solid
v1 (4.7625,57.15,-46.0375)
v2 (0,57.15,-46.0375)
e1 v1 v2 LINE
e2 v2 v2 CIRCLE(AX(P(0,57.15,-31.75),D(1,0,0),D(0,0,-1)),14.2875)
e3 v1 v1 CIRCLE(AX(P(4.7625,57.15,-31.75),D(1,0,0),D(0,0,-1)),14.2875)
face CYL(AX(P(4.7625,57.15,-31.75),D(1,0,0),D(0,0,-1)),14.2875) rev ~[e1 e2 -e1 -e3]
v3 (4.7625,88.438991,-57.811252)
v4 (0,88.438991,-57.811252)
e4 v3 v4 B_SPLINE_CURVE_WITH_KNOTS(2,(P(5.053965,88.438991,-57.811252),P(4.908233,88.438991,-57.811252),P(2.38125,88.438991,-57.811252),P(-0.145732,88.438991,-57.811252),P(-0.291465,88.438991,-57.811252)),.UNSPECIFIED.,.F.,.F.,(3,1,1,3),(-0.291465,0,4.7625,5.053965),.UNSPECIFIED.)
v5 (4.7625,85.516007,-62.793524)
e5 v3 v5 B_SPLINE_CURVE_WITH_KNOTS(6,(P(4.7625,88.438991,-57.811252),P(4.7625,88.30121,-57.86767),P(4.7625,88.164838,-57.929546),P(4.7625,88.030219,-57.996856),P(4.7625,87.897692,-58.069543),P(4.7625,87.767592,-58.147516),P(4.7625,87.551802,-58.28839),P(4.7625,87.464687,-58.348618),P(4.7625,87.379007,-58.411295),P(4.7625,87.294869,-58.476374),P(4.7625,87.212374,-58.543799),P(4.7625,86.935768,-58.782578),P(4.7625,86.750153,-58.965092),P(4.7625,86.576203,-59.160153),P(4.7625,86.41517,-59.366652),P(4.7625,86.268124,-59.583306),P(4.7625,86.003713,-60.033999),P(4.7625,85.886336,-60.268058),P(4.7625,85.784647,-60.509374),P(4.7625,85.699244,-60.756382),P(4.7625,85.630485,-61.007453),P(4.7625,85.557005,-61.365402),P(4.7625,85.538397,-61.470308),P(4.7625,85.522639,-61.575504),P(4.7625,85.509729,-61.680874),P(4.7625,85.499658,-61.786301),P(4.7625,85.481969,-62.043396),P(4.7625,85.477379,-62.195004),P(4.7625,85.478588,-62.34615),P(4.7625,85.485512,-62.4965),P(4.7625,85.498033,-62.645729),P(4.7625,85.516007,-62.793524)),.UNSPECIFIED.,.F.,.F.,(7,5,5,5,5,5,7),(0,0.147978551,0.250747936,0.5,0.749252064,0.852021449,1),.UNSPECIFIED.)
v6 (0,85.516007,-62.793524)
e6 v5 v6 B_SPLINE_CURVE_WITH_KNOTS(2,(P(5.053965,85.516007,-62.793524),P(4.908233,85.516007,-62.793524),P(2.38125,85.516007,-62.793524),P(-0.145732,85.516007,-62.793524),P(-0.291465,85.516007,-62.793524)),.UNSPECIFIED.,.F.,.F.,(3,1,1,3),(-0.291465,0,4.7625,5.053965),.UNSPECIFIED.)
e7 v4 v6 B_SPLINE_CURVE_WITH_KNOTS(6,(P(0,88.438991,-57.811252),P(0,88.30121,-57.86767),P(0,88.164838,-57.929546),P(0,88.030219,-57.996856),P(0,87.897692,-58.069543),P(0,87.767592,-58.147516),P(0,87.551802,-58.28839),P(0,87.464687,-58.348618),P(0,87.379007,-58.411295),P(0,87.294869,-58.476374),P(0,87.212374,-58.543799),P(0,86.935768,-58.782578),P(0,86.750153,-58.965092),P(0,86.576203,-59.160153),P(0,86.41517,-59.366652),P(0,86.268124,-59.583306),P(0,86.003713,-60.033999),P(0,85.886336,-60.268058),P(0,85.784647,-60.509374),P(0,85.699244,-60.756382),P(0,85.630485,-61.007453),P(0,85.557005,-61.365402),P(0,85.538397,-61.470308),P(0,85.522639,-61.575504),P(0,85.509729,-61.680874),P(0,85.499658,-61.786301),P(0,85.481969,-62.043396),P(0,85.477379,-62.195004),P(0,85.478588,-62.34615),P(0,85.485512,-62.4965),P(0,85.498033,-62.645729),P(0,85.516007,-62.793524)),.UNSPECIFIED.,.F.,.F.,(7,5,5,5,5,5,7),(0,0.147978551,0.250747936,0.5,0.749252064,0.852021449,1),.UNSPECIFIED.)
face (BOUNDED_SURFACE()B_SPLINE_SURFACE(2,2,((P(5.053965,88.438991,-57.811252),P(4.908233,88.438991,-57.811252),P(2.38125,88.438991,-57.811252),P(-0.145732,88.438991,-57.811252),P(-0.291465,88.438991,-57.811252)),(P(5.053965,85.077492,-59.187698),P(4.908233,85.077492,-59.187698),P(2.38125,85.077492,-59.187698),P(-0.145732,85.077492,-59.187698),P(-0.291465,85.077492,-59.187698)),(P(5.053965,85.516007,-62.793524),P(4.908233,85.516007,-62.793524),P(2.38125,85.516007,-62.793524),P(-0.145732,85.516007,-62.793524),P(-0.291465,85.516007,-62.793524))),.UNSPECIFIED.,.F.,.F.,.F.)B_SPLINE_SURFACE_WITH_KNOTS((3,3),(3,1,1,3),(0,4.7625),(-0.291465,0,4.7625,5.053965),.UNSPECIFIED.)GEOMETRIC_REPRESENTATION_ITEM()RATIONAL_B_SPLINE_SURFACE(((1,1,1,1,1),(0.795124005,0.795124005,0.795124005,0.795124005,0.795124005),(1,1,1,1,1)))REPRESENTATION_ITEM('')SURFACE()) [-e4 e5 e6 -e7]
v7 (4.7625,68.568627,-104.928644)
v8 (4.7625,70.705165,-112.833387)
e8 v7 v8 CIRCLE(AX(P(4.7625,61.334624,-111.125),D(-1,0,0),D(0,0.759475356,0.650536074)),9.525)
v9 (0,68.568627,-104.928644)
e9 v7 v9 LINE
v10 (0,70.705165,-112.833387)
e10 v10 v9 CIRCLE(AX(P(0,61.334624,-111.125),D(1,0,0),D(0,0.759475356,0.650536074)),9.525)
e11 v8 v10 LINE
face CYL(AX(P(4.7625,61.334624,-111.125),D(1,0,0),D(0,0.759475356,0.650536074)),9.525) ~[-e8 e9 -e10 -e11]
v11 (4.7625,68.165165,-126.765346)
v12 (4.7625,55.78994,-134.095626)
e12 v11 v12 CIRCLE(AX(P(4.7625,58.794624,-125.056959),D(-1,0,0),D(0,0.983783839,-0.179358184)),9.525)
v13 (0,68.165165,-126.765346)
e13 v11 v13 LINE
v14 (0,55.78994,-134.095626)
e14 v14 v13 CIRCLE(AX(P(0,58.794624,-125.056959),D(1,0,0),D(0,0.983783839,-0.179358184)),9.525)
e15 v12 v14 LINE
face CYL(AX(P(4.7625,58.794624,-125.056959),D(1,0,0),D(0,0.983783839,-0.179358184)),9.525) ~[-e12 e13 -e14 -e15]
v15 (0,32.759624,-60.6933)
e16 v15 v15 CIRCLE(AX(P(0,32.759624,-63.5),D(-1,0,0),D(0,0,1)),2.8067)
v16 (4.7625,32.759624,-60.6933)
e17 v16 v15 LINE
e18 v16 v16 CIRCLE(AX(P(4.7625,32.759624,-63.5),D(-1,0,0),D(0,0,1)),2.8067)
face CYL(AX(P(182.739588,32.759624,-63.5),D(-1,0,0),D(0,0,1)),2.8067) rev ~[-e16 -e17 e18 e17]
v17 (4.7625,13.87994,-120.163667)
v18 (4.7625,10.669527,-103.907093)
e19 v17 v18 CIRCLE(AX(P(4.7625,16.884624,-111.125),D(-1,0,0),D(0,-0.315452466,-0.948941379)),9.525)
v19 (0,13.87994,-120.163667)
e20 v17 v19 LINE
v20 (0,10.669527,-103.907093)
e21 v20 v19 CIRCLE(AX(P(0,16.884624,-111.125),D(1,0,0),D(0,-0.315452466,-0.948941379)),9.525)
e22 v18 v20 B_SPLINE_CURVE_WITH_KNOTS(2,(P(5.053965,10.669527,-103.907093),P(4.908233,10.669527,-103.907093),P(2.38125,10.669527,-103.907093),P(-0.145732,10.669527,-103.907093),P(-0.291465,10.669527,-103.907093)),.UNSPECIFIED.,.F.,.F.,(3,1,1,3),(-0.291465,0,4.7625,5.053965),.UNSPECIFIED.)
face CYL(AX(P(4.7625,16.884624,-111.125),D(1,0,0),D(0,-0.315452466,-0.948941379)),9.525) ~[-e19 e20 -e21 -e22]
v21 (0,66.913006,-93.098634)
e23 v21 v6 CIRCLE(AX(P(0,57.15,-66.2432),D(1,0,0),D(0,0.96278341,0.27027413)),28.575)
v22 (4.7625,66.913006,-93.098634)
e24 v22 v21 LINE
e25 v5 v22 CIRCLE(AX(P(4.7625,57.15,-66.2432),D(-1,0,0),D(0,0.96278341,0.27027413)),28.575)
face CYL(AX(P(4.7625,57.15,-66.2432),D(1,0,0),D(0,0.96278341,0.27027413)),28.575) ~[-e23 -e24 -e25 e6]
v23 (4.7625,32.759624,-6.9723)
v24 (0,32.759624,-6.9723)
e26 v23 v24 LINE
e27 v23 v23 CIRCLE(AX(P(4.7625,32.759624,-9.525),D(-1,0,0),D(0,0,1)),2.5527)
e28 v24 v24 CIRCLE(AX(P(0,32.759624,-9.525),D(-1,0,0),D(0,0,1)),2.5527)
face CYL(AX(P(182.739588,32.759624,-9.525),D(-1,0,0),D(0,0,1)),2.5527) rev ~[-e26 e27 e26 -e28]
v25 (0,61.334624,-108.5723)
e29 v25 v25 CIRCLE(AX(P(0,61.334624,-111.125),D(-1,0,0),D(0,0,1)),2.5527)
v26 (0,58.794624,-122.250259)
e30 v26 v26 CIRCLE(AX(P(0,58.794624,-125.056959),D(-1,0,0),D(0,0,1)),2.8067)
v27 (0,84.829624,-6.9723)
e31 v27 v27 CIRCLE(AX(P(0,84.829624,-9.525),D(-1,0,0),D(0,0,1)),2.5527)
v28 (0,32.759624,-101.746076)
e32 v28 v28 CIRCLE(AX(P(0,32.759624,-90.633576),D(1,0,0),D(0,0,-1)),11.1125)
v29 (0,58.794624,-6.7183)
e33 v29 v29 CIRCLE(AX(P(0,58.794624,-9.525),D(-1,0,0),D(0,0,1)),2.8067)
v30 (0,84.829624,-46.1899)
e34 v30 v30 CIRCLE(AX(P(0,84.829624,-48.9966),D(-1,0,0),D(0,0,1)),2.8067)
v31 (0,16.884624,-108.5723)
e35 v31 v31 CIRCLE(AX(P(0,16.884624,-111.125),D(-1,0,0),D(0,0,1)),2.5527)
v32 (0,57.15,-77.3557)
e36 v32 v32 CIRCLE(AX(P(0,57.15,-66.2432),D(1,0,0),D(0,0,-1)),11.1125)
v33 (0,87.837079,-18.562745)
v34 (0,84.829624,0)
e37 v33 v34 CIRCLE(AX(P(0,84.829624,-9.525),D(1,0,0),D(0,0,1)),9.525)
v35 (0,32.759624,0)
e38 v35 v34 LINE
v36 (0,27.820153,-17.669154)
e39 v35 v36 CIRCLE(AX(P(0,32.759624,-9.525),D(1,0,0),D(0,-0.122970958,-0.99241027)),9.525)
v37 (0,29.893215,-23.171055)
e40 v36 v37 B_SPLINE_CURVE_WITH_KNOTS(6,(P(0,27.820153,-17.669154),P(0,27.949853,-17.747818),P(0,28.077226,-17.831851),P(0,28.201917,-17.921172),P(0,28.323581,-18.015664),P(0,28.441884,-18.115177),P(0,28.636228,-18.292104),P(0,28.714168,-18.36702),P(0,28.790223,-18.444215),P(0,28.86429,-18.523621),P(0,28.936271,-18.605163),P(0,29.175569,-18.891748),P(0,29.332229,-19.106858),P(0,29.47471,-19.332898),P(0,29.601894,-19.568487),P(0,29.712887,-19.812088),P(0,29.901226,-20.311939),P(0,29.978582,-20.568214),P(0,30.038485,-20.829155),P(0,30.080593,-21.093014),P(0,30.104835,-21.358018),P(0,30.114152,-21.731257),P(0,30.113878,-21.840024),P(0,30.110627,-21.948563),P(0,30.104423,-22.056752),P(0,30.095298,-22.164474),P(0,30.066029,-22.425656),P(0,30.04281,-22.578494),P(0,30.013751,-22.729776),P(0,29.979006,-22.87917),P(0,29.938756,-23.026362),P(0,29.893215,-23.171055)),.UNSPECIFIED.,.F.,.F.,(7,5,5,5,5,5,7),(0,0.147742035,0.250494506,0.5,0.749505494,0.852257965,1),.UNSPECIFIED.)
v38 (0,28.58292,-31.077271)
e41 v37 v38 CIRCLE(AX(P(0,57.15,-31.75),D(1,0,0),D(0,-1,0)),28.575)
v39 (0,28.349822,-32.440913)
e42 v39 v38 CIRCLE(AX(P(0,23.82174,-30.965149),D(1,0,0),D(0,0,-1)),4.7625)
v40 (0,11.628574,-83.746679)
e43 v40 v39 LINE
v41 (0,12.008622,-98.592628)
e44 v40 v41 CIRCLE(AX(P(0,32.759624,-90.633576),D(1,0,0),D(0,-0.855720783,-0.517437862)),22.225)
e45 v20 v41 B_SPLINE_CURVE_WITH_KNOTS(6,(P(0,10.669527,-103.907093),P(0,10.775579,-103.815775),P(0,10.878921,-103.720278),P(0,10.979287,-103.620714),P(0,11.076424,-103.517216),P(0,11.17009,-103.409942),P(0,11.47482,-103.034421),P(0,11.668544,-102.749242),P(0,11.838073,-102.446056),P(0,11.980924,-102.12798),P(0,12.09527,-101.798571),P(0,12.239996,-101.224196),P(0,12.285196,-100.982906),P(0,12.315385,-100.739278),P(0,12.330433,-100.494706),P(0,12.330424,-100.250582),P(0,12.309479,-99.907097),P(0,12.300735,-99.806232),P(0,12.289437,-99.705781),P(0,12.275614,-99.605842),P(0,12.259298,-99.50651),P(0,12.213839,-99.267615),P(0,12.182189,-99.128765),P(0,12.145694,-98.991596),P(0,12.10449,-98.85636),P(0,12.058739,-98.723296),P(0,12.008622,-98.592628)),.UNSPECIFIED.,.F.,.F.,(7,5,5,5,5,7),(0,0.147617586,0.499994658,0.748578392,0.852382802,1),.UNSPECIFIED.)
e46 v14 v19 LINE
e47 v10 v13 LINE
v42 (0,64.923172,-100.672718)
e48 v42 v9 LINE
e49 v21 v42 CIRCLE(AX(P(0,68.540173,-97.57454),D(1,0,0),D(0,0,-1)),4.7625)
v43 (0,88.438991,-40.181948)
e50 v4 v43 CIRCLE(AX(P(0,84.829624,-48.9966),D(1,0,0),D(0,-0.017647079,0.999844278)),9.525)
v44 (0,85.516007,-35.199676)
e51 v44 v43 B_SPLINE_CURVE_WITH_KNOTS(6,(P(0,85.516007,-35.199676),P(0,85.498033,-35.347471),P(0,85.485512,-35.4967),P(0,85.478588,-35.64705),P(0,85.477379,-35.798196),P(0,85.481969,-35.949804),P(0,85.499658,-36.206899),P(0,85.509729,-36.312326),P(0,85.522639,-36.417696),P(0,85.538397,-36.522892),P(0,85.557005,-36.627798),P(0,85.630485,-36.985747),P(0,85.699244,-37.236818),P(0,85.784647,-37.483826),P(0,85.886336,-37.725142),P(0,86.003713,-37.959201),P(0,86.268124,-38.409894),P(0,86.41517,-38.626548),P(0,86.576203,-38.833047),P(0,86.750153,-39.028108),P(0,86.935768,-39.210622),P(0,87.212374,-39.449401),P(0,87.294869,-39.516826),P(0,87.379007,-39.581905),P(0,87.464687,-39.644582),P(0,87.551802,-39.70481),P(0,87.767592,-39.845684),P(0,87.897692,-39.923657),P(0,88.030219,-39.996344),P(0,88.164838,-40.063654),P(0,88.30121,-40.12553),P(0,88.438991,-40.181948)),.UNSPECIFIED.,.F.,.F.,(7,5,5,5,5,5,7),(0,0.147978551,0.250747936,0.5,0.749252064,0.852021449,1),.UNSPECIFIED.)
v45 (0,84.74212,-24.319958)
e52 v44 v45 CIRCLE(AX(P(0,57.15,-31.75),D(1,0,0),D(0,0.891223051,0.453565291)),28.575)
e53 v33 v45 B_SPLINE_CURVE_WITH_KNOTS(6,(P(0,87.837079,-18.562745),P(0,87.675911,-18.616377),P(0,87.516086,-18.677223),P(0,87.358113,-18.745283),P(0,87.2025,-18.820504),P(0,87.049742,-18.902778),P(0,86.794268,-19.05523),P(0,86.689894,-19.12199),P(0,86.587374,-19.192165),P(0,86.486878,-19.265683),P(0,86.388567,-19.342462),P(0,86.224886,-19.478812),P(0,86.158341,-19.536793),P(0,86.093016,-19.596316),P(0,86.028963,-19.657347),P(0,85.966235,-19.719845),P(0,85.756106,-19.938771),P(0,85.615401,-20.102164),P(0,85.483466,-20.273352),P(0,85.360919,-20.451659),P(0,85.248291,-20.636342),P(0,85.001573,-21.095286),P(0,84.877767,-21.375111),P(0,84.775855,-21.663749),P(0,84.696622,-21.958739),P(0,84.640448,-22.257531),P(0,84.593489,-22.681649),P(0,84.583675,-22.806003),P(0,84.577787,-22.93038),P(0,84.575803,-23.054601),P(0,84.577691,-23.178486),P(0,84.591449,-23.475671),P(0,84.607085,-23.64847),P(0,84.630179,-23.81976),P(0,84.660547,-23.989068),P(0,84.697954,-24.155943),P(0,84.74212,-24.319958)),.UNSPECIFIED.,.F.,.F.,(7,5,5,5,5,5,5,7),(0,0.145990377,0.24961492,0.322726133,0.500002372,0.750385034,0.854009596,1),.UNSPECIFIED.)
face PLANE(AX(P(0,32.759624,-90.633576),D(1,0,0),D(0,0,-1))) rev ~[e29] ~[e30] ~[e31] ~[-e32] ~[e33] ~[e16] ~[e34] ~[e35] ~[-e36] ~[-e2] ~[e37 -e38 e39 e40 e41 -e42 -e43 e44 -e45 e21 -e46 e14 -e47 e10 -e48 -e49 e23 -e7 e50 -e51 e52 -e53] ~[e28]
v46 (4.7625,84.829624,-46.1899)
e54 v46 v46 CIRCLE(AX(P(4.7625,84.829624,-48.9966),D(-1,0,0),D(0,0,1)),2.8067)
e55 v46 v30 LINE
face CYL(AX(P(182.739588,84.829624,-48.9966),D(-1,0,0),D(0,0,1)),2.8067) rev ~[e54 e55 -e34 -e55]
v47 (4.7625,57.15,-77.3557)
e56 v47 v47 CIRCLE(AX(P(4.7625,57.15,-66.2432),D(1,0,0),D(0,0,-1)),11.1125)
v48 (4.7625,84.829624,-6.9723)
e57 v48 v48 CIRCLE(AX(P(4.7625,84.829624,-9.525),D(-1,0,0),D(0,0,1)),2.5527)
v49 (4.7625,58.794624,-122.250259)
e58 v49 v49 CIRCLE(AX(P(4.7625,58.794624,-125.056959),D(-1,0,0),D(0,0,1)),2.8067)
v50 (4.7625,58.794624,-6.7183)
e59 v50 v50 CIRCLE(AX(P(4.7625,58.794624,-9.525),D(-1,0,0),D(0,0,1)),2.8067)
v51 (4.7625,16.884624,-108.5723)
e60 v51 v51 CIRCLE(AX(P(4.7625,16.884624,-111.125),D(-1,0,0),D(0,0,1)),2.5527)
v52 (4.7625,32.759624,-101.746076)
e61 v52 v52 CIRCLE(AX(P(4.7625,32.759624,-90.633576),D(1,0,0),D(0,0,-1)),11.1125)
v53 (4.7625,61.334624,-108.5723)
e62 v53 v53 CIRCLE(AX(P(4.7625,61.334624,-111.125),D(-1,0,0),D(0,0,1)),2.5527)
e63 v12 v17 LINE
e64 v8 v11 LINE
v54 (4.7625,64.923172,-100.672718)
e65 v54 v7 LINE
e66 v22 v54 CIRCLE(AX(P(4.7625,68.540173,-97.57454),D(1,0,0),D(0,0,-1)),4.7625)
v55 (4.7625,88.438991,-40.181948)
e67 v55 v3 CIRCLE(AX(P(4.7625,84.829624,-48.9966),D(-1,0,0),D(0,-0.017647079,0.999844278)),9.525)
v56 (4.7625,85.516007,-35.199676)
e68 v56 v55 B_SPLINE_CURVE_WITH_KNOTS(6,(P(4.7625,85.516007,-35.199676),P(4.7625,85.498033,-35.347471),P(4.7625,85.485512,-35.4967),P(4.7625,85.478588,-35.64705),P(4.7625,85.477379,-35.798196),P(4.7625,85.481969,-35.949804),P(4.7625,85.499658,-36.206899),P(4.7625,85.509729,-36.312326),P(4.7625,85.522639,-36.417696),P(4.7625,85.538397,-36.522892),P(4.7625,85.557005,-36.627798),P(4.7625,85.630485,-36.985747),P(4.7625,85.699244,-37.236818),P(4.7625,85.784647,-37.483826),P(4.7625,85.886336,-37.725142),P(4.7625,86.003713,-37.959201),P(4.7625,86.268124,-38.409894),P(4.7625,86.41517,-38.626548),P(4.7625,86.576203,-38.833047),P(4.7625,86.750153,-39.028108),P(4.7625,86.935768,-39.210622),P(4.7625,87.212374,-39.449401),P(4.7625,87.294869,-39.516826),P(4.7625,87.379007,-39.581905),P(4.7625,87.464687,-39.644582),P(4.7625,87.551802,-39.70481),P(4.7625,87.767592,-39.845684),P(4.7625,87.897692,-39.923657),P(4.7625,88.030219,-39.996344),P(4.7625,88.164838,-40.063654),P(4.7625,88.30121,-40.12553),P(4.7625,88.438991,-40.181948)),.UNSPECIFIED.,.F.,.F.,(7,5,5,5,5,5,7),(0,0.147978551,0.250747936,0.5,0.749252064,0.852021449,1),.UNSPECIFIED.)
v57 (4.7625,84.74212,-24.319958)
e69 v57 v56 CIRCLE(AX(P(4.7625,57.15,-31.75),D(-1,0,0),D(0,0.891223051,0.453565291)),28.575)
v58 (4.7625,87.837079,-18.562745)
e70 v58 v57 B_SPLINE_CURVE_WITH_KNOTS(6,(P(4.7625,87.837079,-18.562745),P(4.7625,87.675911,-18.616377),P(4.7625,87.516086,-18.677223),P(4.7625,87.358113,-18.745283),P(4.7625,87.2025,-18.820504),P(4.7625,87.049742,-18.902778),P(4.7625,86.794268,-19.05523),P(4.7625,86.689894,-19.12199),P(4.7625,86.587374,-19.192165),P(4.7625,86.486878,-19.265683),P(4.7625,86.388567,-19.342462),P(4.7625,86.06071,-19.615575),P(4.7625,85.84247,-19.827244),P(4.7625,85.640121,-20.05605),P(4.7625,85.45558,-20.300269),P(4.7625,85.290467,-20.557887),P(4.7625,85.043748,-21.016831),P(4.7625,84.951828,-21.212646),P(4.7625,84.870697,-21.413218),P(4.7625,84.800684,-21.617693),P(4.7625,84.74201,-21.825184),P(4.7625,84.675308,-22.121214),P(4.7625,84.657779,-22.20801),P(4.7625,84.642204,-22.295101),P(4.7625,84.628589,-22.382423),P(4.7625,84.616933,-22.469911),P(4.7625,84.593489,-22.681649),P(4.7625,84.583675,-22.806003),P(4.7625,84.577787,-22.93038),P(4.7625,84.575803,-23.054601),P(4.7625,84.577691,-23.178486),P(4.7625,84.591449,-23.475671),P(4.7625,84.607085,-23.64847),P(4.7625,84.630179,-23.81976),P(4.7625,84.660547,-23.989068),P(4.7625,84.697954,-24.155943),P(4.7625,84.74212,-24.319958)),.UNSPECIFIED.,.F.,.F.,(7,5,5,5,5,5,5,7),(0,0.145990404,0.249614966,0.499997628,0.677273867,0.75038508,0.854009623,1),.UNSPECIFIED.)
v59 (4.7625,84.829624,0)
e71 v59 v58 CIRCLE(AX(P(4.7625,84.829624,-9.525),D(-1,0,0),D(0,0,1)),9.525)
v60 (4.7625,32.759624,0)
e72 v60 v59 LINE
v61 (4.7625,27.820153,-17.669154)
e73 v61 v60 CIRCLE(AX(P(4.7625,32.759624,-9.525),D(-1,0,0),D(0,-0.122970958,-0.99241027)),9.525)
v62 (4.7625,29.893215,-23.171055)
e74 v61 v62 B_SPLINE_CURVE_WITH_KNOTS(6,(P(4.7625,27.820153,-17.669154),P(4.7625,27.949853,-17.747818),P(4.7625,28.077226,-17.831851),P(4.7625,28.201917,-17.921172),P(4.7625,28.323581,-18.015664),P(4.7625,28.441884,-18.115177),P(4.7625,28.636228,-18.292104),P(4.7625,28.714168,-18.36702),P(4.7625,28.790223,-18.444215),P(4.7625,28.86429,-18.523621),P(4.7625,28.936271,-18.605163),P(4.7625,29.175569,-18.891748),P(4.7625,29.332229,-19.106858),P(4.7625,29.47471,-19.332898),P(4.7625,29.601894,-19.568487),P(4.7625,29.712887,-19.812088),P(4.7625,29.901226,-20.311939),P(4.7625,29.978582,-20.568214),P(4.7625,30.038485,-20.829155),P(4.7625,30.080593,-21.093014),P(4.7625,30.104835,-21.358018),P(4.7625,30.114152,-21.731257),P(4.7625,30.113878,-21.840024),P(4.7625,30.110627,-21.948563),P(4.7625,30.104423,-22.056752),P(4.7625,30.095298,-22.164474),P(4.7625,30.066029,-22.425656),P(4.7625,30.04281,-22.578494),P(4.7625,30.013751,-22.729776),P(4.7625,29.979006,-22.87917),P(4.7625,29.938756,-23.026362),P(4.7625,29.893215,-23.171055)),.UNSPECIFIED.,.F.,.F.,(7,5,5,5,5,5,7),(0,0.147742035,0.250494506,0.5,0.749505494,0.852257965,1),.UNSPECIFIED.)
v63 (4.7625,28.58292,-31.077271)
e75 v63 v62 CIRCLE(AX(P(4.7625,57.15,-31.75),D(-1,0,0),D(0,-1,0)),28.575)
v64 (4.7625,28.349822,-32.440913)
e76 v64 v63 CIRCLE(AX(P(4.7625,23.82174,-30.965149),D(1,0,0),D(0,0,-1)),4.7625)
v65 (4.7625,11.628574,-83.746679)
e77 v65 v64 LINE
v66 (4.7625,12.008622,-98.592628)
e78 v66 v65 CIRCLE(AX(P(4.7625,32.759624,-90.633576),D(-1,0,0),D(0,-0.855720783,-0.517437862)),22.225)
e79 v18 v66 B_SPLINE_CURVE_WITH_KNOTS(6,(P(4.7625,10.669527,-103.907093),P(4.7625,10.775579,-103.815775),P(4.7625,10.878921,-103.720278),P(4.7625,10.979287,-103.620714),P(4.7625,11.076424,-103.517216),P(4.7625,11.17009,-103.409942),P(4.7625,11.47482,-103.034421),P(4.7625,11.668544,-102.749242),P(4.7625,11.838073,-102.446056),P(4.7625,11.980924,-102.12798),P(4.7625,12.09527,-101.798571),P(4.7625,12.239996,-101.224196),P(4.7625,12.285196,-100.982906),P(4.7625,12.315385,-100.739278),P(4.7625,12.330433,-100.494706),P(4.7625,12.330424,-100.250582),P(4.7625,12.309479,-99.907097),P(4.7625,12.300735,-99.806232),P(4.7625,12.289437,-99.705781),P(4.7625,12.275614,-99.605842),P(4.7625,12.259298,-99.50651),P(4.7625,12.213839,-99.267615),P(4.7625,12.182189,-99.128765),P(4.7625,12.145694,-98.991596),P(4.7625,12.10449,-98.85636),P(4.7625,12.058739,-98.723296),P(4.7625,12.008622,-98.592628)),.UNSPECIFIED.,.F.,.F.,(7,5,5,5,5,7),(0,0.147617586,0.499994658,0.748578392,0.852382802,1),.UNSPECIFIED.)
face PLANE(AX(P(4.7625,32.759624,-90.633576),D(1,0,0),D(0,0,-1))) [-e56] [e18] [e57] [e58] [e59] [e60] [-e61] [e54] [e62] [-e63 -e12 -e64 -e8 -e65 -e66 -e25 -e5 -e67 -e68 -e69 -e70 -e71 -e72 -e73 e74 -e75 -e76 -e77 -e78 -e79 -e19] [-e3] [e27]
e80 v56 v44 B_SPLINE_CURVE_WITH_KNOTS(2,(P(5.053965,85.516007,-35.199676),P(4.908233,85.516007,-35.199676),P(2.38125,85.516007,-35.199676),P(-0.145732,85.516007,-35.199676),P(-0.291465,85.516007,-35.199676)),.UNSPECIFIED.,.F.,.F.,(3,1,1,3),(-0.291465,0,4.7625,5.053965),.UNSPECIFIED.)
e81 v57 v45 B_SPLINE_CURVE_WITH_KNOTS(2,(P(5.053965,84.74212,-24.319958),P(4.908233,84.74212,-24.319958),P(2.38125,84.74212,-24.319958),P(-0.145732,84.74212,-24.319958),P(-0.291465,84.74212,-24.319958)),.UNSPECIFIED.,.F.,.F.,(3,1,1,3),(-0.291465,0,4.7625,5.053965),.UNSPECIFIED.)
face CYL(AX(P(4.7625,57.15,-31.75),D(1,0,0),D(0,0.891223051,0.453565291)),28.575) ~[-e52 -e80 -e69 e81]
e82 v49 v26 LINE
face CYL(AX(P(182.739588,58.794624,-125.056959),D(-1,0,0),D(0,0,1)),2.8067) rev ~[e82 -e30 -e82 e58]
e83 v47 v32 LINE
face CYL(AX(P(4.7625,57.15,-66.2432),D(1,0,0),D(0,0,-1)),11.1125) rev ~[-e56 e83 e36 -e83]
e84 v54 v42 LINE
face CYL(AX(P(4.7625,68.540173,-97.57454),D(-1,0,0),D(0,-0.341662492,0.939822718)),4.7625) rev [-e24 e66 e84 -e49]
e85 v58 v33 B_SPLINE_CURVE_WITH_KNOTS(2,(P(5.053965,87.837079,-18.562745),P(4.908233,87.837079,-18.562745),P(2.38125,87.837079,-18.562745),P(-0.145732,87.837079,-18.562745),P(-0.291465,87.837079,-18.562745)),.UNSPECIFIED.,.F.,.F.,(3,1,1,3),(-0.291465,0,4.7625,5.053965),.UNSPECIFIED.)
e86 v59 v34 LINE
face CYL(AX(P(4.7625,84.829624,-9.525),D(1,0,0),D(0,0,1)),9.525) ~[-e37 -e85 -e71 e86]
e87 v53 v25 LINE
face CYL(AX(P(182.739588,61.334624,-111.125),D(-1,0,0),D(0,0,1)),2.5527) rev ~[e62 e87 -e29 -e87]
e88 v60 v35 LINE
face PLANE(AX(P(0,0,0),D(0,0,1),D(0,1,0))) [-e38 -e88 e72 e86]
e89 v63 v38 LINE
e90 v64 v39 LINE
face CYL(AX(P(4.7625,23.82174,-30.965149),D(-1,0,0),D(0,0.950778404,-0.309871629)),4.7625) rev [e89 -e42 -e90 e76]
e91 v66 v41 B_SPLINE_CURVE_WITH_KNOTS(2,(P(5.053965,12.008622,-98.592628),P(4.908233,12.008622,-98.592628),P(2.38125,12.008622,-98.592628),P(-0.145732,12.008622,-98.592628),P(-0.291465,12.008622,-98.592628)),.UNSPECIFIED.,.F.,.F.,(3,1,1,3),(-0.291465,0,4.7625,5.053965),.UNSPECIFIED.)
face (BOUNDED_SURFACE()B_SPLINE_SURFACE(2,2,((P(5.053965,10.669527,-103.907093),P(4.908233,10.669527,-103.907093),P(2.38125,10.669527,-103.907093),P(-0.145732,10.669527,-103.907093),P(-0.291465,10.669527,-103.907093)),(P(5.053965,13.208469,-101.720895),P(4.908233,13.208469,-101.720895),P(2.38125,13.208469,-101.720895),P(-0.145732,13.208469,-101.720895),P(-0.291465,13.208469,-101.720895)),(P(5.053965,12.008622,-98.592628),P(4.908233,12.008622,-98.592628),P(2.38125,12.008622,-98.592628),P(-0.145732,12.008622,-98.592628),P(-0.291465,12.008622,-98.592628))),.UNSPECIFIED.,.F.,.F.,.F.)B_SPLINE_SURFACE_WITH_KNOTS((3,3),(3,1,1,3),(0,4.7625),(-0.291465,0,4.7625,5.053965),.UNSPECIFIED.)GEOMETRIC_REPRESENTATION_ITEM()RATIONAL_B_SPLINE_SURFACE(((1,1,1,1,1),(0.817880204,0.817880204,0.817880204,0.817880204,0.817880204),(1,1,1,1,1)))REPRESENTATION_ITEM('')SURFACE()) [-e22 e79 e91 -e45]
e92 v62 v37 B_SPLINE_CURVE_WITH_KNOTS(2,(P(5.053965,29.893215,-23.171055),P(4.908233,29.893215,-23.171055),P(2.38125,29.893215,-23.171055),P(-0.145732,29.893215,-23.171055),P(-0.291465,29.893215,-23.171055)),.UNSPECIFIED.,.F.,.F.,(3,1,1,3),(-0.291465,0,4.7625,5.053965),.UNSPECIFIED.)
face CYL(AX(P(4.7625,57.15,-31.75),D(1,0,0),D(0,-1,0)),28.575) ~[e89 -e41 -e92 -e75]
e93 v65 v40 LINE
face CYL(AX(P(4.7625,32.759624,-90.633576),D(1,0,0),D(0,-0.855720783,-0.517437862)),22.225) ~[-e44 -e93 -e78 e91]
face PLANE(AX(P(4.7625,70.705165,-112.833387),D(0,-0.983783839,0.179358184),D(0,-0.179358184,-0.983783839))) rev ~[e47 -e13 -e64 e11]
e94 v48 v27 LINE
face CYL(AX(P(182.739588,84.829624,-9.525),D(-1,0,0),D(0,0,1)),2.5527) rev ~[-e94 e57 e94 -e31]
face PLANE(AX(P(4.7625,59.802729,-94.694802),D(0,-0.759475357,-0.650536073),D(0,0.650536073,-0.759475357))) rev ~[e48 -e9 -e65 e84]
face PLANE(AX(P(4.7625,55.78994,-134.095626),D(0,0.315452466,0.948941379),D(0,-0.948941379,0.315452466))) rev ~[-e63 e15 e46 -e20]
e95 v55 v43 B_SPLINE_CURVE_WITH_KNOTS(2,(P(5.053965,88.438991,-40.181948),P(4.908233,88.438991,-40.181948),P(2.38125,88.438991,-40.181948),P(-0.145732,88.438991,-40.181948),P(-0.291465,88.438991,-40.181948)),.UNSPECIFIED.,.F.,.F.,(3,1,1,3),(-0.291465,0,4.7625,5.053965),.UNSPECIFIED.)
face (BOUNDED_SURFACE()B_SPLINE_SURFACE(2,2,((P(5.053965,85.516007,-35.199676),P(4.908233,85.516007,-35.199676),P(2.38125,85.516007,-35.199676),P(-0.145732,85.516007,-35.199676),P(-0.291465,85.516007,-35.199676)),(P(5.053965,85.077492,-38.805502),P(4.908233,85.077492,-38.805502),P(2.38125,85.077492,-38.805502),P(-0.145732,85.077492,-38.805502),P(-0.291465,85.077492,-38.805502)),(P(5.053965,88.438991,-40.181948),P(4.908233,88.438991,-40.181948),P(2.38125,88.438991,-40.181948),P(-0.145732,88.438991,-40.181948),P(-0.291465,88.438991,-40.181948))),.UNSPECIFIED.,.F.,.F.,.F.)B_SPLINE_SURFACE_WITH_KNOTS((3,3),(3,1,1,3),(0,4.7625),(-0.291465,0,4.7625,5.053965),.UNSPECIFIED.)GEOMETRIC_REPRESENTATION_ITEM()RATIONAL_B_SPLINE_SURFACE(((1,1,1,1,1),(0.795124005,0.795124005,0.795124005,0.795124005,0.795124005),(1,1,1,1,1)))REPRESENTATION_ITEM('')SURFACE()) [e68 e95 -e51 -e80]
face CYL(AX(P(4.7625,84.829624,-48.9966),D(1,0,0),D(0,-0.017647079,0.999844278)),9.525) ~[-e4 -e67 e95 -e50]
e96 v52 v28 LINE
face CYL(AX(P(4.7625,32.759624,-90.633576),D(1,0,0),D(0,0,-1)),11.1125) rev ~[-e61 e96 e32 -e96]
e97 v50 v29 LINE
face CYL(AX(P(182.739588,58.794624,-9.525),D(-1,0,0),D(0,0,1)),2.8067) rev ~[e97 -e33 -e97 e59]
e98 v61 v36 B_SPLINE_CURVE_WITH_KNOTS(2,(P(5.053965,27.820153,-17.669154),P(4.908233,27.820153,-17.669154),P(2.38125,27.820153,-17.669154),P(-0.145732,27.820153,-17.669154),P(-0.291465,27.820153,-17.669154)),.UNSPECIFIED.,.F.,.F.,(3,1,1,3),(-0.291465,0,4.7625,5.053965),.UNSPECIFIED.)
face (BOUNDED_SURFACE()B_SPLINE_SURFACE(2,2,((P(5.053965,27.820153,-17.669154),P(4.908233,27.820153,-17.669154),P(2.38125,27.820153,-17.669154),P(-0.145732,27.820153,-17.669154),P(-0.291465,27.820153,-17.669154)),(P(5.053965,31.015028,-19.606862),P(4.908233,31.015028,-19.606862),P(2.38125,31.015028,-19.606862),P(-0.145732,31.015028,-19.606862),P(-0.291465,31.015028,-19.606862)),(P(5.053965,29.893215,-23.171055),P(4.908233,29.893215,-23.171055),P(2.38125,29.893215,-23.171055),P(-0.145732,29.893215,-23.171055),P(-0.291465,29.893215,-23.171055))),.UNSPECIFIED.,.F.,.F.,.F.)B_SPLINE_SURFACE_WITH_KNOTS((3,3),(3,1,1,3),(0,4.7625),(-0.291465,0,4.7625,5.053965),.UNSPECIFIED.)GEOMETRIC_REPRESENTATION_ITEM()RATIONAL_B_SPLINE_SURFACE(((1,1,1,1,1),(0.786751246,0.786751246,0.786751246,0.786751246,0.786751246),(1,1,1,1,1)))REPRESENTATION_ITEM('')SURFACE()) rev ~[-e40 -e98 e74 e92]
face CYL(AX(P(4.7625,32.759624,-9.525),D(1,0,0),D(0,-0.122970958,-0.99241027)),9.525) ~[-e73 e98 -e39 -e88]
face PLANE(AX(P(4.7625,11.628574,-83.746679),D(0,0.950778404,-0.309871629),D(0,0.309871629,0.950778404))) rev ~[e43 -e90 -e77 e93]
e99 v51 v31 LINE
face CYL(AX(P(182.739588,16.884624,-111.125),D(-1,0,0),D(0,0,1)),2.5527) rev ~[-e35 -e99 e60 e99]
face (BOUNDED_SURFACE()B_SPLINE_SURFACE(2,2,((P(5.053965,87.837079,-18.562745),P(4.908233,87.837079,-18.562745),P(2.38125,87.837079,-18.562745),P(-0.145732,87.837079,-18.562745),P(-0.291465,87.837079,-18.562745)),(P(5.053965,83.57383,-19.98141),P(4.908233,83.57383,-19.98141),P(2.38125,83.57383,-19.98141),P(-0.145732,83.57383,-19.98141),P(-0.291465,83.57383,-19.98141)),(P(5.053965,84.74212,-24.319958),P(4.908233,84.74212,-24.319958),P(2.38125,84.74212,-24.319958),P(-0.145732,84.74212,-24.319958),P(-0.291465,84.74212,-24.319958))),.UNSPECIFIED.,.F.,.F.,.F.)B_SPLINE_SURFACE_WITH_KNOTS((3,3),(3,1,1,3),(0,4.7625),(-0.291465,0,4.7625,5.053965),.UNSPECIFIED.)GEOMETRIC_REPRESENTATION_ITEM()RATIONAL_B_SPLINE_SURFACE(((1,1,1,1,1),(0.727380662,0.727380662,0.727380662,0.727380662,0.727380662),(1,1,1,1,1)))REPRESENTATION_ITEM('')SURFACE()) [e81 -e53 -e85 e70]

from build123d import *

# Parameters (mm, degrees)
SKETCH1_W              = 146.05
SKETCH1_H              = 101.6
BOSS_EXTRUDE2_DEPTH    = 4.7625
SKETCH2_R              = 11.1125
SKETCH2_R_2            = 14.2875
CUT_EXTRUDE1_DEPTH     = 5.7625
F_10_CLEARANCE_HOLE1_D = 5.1054
F_10_CLEARANCE_HOLE2_D = 5.6134
CUT_EXTRUDE2_DEPTH     = 5.7625
FILLET1_R              = 4.7625
SKETCH8_R              = 14.2875
CUT_EXTRUDE3_DEPTH     = 5.7625001
SKETCH9_R              = 14.2875
SKETCH9_R_2            = 11.1125
BOSS_EXTRUDE3_DEPTH    = 4.7625


with BuildPart() as part:
    # Sketch1 → Boss-Extrude2 (new body)
    with BuildSketch(Plane(origin=(0, 0, 0), x_dir=(0, 0, -1), z_dir=(1, 0, 0))):
        with Locations((73.025, 50.8)):
            Rectangle(SKETCH1_W, SKETCH1_H)
    extrude(amount=BOSS_EXTRUDE2_DEPTH)

    # Sketch2 → Cut-Extrude1 (cut, through all)
    with BuildSketch(Plane(origin=(4.7625, 0, 0), x_dir=(0, 0, -1), z_dir=(1, 0, 0))):
        with Locations((66.2432, 57.15)):
            Circle(SKETCH2_R)
        with Locations((31.75, 57.15)):
            Circle(SKETCH2_R)
        with Locations((90.633575625, 32.759624375)):
            Circle(SKETCH2_R_2)
    extrude(amount=-CUT_EXTRUDE1_DEPTH, mode=Mode.SUBTRACT)

    # #10 Clearance Hole1 (through all)
    with Locations(Plane(origin=(4.7625, 0, 0), x_dir=(0, 0, -1), z_dir=(1, 0, 0))):
        with Locations((9.525, 84.829624375), (111.125, 61.334624375), (9.525, 32.759624375), (111.125, 16.884624375)):
            Hole(F_10_CLEARANCE_HOLE1_D / 2)

    # #10 Clearance Hole2 (through all)
    with Locations(Plane(origin=(4.7625, 0, 0), x_dir=(0, 0, -1), z_dir=(1, 0, 0))):
        with Locations((9.525, 58.794624375), (48.9966, 84.829624375), (125.056959494, 58.794624375), (63.5, 32.759624375)):
            Hole(F_10_CLEARANCE_HOLE2_D / 2)

    # Sketch7 → Cut-Extrude2 (cut, through all)
    with BuildSketch(Plane(origin=(4.7625, 0, 0), x_dir=(0, 0, -1), z_dir=(1, 0, 0))):
        with BuildLine():
            ThreePointArc((58.52011675, 84.661535946), (82.426770011, 80.700428589), (94.694801926, 59.802729323))
            Line((94.694801926, 59.802729323), (104.928643901, 68.568627146))
            ThreePointArc((104.928643901, 68.568627146), (108.639710016, 70.529675147), (112.8333867, 70.705165442))
            Line((112.8333867, 70.705165442), (126.765346195, 68.165165442))
            ThreePointArc((126.765346195, 68.165165442), (133.252161891, 63.648929957), (134.095626133, 55.789939634))
            Line((134.095626133, 55.789939634), (120.163666639, 13.879939634))
            ThreePointArc((120.163666639, 13.879939634), (111.198276093, 7.359906237), (102.133632107, 13.741229966))
            ThreePointArc((102.133632107, 13.741229966), (93.170530223, 10.67989416), (83.746678665, 11.628574348))
            Line((83.746678665, 11.628574348), (31.75, 28.575))
            ThreePointArc((31.75, 28.575), (25.188529488, 29.338532406), (18.97770782, 31.588326004))
            ThreePointArc((18.97770782, 31.588326004), (8.938236412, 23.252714599), (0, 32.759624375))
            Line((0, 32.759624375), (0, 0))
            Line((0, 0), (146.05, 0))
            Line((146.05, 0), (146.05, 101.6))
            Line((146.05, 101.6), (0, 101.6))
            Line((0, 101.6), (0, 84.829624375))
            ThreePointArc((0, 84.829624375), (10.639110316, 94.28924293), (18.789371801, 82.616698681))
            ThreePointArc((18.789371801, 82.616698681), (28.938717529, 85.586373114), (39.47308325, 84.661535946))
            ThreePointArc((39.47308325, 84.661535946), (48.9966, 94.354624375), (58.52011675, 84.661535946))
        make_face()
    extrude(amount=-CUT_EXTRUDE2_DEPTH, mode=Mode.SUBTRACT)

    # Fillet1
    fillet1_edges = [part.edges().sort_by_distance(p)[0] for p in [
        (2.38125, 59.802729323, -94.694801926),
        (2.38125, 84.661535946, -58.52011675),
        (2.38125, 84.661535946, -39.47308325),
        (2.38125, 82.616698681, -18.789371801),
        (2.38125, 31.588326004, -18.97770782),
        (2.38125, 28.575, -31.75),
        (2.38125, 13.741229966, -102.133632107),
    ]]
    fillet(fillet1_edges, radius=FILLET1_R)

    # Sketch8 → Cut-Extrude3 (cut, through all)
    with BuildSketch(Plane(origin=(4.7625, 0, 0), x_dir=(0, 0, -1), z_dir=(1, 0, 0))):
        with Locations((31.75, 57.15)):
            Circle(SKETCH8_R)
    extrude(amount=-CUT_EXTRUDE3_DEPTH, mode=Mode.SUBTRACT)

    # Sketch9 → Boss-Extrude3 (add)
    with BuildSketch(Plane(origin=(4.7625, 0, 0), x_dir=(0, 0, -1), z_dir=(1, 0, 0))):
        with Locations((90.633575625, 32.759624375)):
            Circle(SKETCH9_R)
        with Locations((90.633575625, 32.759624375)):
            Circle(SKETCH9_R_2, mode=Mode.SUBTRACT)
    extrude(amount=-BOSS_EXTRUDE3_DEPTH)


solid = part.part
